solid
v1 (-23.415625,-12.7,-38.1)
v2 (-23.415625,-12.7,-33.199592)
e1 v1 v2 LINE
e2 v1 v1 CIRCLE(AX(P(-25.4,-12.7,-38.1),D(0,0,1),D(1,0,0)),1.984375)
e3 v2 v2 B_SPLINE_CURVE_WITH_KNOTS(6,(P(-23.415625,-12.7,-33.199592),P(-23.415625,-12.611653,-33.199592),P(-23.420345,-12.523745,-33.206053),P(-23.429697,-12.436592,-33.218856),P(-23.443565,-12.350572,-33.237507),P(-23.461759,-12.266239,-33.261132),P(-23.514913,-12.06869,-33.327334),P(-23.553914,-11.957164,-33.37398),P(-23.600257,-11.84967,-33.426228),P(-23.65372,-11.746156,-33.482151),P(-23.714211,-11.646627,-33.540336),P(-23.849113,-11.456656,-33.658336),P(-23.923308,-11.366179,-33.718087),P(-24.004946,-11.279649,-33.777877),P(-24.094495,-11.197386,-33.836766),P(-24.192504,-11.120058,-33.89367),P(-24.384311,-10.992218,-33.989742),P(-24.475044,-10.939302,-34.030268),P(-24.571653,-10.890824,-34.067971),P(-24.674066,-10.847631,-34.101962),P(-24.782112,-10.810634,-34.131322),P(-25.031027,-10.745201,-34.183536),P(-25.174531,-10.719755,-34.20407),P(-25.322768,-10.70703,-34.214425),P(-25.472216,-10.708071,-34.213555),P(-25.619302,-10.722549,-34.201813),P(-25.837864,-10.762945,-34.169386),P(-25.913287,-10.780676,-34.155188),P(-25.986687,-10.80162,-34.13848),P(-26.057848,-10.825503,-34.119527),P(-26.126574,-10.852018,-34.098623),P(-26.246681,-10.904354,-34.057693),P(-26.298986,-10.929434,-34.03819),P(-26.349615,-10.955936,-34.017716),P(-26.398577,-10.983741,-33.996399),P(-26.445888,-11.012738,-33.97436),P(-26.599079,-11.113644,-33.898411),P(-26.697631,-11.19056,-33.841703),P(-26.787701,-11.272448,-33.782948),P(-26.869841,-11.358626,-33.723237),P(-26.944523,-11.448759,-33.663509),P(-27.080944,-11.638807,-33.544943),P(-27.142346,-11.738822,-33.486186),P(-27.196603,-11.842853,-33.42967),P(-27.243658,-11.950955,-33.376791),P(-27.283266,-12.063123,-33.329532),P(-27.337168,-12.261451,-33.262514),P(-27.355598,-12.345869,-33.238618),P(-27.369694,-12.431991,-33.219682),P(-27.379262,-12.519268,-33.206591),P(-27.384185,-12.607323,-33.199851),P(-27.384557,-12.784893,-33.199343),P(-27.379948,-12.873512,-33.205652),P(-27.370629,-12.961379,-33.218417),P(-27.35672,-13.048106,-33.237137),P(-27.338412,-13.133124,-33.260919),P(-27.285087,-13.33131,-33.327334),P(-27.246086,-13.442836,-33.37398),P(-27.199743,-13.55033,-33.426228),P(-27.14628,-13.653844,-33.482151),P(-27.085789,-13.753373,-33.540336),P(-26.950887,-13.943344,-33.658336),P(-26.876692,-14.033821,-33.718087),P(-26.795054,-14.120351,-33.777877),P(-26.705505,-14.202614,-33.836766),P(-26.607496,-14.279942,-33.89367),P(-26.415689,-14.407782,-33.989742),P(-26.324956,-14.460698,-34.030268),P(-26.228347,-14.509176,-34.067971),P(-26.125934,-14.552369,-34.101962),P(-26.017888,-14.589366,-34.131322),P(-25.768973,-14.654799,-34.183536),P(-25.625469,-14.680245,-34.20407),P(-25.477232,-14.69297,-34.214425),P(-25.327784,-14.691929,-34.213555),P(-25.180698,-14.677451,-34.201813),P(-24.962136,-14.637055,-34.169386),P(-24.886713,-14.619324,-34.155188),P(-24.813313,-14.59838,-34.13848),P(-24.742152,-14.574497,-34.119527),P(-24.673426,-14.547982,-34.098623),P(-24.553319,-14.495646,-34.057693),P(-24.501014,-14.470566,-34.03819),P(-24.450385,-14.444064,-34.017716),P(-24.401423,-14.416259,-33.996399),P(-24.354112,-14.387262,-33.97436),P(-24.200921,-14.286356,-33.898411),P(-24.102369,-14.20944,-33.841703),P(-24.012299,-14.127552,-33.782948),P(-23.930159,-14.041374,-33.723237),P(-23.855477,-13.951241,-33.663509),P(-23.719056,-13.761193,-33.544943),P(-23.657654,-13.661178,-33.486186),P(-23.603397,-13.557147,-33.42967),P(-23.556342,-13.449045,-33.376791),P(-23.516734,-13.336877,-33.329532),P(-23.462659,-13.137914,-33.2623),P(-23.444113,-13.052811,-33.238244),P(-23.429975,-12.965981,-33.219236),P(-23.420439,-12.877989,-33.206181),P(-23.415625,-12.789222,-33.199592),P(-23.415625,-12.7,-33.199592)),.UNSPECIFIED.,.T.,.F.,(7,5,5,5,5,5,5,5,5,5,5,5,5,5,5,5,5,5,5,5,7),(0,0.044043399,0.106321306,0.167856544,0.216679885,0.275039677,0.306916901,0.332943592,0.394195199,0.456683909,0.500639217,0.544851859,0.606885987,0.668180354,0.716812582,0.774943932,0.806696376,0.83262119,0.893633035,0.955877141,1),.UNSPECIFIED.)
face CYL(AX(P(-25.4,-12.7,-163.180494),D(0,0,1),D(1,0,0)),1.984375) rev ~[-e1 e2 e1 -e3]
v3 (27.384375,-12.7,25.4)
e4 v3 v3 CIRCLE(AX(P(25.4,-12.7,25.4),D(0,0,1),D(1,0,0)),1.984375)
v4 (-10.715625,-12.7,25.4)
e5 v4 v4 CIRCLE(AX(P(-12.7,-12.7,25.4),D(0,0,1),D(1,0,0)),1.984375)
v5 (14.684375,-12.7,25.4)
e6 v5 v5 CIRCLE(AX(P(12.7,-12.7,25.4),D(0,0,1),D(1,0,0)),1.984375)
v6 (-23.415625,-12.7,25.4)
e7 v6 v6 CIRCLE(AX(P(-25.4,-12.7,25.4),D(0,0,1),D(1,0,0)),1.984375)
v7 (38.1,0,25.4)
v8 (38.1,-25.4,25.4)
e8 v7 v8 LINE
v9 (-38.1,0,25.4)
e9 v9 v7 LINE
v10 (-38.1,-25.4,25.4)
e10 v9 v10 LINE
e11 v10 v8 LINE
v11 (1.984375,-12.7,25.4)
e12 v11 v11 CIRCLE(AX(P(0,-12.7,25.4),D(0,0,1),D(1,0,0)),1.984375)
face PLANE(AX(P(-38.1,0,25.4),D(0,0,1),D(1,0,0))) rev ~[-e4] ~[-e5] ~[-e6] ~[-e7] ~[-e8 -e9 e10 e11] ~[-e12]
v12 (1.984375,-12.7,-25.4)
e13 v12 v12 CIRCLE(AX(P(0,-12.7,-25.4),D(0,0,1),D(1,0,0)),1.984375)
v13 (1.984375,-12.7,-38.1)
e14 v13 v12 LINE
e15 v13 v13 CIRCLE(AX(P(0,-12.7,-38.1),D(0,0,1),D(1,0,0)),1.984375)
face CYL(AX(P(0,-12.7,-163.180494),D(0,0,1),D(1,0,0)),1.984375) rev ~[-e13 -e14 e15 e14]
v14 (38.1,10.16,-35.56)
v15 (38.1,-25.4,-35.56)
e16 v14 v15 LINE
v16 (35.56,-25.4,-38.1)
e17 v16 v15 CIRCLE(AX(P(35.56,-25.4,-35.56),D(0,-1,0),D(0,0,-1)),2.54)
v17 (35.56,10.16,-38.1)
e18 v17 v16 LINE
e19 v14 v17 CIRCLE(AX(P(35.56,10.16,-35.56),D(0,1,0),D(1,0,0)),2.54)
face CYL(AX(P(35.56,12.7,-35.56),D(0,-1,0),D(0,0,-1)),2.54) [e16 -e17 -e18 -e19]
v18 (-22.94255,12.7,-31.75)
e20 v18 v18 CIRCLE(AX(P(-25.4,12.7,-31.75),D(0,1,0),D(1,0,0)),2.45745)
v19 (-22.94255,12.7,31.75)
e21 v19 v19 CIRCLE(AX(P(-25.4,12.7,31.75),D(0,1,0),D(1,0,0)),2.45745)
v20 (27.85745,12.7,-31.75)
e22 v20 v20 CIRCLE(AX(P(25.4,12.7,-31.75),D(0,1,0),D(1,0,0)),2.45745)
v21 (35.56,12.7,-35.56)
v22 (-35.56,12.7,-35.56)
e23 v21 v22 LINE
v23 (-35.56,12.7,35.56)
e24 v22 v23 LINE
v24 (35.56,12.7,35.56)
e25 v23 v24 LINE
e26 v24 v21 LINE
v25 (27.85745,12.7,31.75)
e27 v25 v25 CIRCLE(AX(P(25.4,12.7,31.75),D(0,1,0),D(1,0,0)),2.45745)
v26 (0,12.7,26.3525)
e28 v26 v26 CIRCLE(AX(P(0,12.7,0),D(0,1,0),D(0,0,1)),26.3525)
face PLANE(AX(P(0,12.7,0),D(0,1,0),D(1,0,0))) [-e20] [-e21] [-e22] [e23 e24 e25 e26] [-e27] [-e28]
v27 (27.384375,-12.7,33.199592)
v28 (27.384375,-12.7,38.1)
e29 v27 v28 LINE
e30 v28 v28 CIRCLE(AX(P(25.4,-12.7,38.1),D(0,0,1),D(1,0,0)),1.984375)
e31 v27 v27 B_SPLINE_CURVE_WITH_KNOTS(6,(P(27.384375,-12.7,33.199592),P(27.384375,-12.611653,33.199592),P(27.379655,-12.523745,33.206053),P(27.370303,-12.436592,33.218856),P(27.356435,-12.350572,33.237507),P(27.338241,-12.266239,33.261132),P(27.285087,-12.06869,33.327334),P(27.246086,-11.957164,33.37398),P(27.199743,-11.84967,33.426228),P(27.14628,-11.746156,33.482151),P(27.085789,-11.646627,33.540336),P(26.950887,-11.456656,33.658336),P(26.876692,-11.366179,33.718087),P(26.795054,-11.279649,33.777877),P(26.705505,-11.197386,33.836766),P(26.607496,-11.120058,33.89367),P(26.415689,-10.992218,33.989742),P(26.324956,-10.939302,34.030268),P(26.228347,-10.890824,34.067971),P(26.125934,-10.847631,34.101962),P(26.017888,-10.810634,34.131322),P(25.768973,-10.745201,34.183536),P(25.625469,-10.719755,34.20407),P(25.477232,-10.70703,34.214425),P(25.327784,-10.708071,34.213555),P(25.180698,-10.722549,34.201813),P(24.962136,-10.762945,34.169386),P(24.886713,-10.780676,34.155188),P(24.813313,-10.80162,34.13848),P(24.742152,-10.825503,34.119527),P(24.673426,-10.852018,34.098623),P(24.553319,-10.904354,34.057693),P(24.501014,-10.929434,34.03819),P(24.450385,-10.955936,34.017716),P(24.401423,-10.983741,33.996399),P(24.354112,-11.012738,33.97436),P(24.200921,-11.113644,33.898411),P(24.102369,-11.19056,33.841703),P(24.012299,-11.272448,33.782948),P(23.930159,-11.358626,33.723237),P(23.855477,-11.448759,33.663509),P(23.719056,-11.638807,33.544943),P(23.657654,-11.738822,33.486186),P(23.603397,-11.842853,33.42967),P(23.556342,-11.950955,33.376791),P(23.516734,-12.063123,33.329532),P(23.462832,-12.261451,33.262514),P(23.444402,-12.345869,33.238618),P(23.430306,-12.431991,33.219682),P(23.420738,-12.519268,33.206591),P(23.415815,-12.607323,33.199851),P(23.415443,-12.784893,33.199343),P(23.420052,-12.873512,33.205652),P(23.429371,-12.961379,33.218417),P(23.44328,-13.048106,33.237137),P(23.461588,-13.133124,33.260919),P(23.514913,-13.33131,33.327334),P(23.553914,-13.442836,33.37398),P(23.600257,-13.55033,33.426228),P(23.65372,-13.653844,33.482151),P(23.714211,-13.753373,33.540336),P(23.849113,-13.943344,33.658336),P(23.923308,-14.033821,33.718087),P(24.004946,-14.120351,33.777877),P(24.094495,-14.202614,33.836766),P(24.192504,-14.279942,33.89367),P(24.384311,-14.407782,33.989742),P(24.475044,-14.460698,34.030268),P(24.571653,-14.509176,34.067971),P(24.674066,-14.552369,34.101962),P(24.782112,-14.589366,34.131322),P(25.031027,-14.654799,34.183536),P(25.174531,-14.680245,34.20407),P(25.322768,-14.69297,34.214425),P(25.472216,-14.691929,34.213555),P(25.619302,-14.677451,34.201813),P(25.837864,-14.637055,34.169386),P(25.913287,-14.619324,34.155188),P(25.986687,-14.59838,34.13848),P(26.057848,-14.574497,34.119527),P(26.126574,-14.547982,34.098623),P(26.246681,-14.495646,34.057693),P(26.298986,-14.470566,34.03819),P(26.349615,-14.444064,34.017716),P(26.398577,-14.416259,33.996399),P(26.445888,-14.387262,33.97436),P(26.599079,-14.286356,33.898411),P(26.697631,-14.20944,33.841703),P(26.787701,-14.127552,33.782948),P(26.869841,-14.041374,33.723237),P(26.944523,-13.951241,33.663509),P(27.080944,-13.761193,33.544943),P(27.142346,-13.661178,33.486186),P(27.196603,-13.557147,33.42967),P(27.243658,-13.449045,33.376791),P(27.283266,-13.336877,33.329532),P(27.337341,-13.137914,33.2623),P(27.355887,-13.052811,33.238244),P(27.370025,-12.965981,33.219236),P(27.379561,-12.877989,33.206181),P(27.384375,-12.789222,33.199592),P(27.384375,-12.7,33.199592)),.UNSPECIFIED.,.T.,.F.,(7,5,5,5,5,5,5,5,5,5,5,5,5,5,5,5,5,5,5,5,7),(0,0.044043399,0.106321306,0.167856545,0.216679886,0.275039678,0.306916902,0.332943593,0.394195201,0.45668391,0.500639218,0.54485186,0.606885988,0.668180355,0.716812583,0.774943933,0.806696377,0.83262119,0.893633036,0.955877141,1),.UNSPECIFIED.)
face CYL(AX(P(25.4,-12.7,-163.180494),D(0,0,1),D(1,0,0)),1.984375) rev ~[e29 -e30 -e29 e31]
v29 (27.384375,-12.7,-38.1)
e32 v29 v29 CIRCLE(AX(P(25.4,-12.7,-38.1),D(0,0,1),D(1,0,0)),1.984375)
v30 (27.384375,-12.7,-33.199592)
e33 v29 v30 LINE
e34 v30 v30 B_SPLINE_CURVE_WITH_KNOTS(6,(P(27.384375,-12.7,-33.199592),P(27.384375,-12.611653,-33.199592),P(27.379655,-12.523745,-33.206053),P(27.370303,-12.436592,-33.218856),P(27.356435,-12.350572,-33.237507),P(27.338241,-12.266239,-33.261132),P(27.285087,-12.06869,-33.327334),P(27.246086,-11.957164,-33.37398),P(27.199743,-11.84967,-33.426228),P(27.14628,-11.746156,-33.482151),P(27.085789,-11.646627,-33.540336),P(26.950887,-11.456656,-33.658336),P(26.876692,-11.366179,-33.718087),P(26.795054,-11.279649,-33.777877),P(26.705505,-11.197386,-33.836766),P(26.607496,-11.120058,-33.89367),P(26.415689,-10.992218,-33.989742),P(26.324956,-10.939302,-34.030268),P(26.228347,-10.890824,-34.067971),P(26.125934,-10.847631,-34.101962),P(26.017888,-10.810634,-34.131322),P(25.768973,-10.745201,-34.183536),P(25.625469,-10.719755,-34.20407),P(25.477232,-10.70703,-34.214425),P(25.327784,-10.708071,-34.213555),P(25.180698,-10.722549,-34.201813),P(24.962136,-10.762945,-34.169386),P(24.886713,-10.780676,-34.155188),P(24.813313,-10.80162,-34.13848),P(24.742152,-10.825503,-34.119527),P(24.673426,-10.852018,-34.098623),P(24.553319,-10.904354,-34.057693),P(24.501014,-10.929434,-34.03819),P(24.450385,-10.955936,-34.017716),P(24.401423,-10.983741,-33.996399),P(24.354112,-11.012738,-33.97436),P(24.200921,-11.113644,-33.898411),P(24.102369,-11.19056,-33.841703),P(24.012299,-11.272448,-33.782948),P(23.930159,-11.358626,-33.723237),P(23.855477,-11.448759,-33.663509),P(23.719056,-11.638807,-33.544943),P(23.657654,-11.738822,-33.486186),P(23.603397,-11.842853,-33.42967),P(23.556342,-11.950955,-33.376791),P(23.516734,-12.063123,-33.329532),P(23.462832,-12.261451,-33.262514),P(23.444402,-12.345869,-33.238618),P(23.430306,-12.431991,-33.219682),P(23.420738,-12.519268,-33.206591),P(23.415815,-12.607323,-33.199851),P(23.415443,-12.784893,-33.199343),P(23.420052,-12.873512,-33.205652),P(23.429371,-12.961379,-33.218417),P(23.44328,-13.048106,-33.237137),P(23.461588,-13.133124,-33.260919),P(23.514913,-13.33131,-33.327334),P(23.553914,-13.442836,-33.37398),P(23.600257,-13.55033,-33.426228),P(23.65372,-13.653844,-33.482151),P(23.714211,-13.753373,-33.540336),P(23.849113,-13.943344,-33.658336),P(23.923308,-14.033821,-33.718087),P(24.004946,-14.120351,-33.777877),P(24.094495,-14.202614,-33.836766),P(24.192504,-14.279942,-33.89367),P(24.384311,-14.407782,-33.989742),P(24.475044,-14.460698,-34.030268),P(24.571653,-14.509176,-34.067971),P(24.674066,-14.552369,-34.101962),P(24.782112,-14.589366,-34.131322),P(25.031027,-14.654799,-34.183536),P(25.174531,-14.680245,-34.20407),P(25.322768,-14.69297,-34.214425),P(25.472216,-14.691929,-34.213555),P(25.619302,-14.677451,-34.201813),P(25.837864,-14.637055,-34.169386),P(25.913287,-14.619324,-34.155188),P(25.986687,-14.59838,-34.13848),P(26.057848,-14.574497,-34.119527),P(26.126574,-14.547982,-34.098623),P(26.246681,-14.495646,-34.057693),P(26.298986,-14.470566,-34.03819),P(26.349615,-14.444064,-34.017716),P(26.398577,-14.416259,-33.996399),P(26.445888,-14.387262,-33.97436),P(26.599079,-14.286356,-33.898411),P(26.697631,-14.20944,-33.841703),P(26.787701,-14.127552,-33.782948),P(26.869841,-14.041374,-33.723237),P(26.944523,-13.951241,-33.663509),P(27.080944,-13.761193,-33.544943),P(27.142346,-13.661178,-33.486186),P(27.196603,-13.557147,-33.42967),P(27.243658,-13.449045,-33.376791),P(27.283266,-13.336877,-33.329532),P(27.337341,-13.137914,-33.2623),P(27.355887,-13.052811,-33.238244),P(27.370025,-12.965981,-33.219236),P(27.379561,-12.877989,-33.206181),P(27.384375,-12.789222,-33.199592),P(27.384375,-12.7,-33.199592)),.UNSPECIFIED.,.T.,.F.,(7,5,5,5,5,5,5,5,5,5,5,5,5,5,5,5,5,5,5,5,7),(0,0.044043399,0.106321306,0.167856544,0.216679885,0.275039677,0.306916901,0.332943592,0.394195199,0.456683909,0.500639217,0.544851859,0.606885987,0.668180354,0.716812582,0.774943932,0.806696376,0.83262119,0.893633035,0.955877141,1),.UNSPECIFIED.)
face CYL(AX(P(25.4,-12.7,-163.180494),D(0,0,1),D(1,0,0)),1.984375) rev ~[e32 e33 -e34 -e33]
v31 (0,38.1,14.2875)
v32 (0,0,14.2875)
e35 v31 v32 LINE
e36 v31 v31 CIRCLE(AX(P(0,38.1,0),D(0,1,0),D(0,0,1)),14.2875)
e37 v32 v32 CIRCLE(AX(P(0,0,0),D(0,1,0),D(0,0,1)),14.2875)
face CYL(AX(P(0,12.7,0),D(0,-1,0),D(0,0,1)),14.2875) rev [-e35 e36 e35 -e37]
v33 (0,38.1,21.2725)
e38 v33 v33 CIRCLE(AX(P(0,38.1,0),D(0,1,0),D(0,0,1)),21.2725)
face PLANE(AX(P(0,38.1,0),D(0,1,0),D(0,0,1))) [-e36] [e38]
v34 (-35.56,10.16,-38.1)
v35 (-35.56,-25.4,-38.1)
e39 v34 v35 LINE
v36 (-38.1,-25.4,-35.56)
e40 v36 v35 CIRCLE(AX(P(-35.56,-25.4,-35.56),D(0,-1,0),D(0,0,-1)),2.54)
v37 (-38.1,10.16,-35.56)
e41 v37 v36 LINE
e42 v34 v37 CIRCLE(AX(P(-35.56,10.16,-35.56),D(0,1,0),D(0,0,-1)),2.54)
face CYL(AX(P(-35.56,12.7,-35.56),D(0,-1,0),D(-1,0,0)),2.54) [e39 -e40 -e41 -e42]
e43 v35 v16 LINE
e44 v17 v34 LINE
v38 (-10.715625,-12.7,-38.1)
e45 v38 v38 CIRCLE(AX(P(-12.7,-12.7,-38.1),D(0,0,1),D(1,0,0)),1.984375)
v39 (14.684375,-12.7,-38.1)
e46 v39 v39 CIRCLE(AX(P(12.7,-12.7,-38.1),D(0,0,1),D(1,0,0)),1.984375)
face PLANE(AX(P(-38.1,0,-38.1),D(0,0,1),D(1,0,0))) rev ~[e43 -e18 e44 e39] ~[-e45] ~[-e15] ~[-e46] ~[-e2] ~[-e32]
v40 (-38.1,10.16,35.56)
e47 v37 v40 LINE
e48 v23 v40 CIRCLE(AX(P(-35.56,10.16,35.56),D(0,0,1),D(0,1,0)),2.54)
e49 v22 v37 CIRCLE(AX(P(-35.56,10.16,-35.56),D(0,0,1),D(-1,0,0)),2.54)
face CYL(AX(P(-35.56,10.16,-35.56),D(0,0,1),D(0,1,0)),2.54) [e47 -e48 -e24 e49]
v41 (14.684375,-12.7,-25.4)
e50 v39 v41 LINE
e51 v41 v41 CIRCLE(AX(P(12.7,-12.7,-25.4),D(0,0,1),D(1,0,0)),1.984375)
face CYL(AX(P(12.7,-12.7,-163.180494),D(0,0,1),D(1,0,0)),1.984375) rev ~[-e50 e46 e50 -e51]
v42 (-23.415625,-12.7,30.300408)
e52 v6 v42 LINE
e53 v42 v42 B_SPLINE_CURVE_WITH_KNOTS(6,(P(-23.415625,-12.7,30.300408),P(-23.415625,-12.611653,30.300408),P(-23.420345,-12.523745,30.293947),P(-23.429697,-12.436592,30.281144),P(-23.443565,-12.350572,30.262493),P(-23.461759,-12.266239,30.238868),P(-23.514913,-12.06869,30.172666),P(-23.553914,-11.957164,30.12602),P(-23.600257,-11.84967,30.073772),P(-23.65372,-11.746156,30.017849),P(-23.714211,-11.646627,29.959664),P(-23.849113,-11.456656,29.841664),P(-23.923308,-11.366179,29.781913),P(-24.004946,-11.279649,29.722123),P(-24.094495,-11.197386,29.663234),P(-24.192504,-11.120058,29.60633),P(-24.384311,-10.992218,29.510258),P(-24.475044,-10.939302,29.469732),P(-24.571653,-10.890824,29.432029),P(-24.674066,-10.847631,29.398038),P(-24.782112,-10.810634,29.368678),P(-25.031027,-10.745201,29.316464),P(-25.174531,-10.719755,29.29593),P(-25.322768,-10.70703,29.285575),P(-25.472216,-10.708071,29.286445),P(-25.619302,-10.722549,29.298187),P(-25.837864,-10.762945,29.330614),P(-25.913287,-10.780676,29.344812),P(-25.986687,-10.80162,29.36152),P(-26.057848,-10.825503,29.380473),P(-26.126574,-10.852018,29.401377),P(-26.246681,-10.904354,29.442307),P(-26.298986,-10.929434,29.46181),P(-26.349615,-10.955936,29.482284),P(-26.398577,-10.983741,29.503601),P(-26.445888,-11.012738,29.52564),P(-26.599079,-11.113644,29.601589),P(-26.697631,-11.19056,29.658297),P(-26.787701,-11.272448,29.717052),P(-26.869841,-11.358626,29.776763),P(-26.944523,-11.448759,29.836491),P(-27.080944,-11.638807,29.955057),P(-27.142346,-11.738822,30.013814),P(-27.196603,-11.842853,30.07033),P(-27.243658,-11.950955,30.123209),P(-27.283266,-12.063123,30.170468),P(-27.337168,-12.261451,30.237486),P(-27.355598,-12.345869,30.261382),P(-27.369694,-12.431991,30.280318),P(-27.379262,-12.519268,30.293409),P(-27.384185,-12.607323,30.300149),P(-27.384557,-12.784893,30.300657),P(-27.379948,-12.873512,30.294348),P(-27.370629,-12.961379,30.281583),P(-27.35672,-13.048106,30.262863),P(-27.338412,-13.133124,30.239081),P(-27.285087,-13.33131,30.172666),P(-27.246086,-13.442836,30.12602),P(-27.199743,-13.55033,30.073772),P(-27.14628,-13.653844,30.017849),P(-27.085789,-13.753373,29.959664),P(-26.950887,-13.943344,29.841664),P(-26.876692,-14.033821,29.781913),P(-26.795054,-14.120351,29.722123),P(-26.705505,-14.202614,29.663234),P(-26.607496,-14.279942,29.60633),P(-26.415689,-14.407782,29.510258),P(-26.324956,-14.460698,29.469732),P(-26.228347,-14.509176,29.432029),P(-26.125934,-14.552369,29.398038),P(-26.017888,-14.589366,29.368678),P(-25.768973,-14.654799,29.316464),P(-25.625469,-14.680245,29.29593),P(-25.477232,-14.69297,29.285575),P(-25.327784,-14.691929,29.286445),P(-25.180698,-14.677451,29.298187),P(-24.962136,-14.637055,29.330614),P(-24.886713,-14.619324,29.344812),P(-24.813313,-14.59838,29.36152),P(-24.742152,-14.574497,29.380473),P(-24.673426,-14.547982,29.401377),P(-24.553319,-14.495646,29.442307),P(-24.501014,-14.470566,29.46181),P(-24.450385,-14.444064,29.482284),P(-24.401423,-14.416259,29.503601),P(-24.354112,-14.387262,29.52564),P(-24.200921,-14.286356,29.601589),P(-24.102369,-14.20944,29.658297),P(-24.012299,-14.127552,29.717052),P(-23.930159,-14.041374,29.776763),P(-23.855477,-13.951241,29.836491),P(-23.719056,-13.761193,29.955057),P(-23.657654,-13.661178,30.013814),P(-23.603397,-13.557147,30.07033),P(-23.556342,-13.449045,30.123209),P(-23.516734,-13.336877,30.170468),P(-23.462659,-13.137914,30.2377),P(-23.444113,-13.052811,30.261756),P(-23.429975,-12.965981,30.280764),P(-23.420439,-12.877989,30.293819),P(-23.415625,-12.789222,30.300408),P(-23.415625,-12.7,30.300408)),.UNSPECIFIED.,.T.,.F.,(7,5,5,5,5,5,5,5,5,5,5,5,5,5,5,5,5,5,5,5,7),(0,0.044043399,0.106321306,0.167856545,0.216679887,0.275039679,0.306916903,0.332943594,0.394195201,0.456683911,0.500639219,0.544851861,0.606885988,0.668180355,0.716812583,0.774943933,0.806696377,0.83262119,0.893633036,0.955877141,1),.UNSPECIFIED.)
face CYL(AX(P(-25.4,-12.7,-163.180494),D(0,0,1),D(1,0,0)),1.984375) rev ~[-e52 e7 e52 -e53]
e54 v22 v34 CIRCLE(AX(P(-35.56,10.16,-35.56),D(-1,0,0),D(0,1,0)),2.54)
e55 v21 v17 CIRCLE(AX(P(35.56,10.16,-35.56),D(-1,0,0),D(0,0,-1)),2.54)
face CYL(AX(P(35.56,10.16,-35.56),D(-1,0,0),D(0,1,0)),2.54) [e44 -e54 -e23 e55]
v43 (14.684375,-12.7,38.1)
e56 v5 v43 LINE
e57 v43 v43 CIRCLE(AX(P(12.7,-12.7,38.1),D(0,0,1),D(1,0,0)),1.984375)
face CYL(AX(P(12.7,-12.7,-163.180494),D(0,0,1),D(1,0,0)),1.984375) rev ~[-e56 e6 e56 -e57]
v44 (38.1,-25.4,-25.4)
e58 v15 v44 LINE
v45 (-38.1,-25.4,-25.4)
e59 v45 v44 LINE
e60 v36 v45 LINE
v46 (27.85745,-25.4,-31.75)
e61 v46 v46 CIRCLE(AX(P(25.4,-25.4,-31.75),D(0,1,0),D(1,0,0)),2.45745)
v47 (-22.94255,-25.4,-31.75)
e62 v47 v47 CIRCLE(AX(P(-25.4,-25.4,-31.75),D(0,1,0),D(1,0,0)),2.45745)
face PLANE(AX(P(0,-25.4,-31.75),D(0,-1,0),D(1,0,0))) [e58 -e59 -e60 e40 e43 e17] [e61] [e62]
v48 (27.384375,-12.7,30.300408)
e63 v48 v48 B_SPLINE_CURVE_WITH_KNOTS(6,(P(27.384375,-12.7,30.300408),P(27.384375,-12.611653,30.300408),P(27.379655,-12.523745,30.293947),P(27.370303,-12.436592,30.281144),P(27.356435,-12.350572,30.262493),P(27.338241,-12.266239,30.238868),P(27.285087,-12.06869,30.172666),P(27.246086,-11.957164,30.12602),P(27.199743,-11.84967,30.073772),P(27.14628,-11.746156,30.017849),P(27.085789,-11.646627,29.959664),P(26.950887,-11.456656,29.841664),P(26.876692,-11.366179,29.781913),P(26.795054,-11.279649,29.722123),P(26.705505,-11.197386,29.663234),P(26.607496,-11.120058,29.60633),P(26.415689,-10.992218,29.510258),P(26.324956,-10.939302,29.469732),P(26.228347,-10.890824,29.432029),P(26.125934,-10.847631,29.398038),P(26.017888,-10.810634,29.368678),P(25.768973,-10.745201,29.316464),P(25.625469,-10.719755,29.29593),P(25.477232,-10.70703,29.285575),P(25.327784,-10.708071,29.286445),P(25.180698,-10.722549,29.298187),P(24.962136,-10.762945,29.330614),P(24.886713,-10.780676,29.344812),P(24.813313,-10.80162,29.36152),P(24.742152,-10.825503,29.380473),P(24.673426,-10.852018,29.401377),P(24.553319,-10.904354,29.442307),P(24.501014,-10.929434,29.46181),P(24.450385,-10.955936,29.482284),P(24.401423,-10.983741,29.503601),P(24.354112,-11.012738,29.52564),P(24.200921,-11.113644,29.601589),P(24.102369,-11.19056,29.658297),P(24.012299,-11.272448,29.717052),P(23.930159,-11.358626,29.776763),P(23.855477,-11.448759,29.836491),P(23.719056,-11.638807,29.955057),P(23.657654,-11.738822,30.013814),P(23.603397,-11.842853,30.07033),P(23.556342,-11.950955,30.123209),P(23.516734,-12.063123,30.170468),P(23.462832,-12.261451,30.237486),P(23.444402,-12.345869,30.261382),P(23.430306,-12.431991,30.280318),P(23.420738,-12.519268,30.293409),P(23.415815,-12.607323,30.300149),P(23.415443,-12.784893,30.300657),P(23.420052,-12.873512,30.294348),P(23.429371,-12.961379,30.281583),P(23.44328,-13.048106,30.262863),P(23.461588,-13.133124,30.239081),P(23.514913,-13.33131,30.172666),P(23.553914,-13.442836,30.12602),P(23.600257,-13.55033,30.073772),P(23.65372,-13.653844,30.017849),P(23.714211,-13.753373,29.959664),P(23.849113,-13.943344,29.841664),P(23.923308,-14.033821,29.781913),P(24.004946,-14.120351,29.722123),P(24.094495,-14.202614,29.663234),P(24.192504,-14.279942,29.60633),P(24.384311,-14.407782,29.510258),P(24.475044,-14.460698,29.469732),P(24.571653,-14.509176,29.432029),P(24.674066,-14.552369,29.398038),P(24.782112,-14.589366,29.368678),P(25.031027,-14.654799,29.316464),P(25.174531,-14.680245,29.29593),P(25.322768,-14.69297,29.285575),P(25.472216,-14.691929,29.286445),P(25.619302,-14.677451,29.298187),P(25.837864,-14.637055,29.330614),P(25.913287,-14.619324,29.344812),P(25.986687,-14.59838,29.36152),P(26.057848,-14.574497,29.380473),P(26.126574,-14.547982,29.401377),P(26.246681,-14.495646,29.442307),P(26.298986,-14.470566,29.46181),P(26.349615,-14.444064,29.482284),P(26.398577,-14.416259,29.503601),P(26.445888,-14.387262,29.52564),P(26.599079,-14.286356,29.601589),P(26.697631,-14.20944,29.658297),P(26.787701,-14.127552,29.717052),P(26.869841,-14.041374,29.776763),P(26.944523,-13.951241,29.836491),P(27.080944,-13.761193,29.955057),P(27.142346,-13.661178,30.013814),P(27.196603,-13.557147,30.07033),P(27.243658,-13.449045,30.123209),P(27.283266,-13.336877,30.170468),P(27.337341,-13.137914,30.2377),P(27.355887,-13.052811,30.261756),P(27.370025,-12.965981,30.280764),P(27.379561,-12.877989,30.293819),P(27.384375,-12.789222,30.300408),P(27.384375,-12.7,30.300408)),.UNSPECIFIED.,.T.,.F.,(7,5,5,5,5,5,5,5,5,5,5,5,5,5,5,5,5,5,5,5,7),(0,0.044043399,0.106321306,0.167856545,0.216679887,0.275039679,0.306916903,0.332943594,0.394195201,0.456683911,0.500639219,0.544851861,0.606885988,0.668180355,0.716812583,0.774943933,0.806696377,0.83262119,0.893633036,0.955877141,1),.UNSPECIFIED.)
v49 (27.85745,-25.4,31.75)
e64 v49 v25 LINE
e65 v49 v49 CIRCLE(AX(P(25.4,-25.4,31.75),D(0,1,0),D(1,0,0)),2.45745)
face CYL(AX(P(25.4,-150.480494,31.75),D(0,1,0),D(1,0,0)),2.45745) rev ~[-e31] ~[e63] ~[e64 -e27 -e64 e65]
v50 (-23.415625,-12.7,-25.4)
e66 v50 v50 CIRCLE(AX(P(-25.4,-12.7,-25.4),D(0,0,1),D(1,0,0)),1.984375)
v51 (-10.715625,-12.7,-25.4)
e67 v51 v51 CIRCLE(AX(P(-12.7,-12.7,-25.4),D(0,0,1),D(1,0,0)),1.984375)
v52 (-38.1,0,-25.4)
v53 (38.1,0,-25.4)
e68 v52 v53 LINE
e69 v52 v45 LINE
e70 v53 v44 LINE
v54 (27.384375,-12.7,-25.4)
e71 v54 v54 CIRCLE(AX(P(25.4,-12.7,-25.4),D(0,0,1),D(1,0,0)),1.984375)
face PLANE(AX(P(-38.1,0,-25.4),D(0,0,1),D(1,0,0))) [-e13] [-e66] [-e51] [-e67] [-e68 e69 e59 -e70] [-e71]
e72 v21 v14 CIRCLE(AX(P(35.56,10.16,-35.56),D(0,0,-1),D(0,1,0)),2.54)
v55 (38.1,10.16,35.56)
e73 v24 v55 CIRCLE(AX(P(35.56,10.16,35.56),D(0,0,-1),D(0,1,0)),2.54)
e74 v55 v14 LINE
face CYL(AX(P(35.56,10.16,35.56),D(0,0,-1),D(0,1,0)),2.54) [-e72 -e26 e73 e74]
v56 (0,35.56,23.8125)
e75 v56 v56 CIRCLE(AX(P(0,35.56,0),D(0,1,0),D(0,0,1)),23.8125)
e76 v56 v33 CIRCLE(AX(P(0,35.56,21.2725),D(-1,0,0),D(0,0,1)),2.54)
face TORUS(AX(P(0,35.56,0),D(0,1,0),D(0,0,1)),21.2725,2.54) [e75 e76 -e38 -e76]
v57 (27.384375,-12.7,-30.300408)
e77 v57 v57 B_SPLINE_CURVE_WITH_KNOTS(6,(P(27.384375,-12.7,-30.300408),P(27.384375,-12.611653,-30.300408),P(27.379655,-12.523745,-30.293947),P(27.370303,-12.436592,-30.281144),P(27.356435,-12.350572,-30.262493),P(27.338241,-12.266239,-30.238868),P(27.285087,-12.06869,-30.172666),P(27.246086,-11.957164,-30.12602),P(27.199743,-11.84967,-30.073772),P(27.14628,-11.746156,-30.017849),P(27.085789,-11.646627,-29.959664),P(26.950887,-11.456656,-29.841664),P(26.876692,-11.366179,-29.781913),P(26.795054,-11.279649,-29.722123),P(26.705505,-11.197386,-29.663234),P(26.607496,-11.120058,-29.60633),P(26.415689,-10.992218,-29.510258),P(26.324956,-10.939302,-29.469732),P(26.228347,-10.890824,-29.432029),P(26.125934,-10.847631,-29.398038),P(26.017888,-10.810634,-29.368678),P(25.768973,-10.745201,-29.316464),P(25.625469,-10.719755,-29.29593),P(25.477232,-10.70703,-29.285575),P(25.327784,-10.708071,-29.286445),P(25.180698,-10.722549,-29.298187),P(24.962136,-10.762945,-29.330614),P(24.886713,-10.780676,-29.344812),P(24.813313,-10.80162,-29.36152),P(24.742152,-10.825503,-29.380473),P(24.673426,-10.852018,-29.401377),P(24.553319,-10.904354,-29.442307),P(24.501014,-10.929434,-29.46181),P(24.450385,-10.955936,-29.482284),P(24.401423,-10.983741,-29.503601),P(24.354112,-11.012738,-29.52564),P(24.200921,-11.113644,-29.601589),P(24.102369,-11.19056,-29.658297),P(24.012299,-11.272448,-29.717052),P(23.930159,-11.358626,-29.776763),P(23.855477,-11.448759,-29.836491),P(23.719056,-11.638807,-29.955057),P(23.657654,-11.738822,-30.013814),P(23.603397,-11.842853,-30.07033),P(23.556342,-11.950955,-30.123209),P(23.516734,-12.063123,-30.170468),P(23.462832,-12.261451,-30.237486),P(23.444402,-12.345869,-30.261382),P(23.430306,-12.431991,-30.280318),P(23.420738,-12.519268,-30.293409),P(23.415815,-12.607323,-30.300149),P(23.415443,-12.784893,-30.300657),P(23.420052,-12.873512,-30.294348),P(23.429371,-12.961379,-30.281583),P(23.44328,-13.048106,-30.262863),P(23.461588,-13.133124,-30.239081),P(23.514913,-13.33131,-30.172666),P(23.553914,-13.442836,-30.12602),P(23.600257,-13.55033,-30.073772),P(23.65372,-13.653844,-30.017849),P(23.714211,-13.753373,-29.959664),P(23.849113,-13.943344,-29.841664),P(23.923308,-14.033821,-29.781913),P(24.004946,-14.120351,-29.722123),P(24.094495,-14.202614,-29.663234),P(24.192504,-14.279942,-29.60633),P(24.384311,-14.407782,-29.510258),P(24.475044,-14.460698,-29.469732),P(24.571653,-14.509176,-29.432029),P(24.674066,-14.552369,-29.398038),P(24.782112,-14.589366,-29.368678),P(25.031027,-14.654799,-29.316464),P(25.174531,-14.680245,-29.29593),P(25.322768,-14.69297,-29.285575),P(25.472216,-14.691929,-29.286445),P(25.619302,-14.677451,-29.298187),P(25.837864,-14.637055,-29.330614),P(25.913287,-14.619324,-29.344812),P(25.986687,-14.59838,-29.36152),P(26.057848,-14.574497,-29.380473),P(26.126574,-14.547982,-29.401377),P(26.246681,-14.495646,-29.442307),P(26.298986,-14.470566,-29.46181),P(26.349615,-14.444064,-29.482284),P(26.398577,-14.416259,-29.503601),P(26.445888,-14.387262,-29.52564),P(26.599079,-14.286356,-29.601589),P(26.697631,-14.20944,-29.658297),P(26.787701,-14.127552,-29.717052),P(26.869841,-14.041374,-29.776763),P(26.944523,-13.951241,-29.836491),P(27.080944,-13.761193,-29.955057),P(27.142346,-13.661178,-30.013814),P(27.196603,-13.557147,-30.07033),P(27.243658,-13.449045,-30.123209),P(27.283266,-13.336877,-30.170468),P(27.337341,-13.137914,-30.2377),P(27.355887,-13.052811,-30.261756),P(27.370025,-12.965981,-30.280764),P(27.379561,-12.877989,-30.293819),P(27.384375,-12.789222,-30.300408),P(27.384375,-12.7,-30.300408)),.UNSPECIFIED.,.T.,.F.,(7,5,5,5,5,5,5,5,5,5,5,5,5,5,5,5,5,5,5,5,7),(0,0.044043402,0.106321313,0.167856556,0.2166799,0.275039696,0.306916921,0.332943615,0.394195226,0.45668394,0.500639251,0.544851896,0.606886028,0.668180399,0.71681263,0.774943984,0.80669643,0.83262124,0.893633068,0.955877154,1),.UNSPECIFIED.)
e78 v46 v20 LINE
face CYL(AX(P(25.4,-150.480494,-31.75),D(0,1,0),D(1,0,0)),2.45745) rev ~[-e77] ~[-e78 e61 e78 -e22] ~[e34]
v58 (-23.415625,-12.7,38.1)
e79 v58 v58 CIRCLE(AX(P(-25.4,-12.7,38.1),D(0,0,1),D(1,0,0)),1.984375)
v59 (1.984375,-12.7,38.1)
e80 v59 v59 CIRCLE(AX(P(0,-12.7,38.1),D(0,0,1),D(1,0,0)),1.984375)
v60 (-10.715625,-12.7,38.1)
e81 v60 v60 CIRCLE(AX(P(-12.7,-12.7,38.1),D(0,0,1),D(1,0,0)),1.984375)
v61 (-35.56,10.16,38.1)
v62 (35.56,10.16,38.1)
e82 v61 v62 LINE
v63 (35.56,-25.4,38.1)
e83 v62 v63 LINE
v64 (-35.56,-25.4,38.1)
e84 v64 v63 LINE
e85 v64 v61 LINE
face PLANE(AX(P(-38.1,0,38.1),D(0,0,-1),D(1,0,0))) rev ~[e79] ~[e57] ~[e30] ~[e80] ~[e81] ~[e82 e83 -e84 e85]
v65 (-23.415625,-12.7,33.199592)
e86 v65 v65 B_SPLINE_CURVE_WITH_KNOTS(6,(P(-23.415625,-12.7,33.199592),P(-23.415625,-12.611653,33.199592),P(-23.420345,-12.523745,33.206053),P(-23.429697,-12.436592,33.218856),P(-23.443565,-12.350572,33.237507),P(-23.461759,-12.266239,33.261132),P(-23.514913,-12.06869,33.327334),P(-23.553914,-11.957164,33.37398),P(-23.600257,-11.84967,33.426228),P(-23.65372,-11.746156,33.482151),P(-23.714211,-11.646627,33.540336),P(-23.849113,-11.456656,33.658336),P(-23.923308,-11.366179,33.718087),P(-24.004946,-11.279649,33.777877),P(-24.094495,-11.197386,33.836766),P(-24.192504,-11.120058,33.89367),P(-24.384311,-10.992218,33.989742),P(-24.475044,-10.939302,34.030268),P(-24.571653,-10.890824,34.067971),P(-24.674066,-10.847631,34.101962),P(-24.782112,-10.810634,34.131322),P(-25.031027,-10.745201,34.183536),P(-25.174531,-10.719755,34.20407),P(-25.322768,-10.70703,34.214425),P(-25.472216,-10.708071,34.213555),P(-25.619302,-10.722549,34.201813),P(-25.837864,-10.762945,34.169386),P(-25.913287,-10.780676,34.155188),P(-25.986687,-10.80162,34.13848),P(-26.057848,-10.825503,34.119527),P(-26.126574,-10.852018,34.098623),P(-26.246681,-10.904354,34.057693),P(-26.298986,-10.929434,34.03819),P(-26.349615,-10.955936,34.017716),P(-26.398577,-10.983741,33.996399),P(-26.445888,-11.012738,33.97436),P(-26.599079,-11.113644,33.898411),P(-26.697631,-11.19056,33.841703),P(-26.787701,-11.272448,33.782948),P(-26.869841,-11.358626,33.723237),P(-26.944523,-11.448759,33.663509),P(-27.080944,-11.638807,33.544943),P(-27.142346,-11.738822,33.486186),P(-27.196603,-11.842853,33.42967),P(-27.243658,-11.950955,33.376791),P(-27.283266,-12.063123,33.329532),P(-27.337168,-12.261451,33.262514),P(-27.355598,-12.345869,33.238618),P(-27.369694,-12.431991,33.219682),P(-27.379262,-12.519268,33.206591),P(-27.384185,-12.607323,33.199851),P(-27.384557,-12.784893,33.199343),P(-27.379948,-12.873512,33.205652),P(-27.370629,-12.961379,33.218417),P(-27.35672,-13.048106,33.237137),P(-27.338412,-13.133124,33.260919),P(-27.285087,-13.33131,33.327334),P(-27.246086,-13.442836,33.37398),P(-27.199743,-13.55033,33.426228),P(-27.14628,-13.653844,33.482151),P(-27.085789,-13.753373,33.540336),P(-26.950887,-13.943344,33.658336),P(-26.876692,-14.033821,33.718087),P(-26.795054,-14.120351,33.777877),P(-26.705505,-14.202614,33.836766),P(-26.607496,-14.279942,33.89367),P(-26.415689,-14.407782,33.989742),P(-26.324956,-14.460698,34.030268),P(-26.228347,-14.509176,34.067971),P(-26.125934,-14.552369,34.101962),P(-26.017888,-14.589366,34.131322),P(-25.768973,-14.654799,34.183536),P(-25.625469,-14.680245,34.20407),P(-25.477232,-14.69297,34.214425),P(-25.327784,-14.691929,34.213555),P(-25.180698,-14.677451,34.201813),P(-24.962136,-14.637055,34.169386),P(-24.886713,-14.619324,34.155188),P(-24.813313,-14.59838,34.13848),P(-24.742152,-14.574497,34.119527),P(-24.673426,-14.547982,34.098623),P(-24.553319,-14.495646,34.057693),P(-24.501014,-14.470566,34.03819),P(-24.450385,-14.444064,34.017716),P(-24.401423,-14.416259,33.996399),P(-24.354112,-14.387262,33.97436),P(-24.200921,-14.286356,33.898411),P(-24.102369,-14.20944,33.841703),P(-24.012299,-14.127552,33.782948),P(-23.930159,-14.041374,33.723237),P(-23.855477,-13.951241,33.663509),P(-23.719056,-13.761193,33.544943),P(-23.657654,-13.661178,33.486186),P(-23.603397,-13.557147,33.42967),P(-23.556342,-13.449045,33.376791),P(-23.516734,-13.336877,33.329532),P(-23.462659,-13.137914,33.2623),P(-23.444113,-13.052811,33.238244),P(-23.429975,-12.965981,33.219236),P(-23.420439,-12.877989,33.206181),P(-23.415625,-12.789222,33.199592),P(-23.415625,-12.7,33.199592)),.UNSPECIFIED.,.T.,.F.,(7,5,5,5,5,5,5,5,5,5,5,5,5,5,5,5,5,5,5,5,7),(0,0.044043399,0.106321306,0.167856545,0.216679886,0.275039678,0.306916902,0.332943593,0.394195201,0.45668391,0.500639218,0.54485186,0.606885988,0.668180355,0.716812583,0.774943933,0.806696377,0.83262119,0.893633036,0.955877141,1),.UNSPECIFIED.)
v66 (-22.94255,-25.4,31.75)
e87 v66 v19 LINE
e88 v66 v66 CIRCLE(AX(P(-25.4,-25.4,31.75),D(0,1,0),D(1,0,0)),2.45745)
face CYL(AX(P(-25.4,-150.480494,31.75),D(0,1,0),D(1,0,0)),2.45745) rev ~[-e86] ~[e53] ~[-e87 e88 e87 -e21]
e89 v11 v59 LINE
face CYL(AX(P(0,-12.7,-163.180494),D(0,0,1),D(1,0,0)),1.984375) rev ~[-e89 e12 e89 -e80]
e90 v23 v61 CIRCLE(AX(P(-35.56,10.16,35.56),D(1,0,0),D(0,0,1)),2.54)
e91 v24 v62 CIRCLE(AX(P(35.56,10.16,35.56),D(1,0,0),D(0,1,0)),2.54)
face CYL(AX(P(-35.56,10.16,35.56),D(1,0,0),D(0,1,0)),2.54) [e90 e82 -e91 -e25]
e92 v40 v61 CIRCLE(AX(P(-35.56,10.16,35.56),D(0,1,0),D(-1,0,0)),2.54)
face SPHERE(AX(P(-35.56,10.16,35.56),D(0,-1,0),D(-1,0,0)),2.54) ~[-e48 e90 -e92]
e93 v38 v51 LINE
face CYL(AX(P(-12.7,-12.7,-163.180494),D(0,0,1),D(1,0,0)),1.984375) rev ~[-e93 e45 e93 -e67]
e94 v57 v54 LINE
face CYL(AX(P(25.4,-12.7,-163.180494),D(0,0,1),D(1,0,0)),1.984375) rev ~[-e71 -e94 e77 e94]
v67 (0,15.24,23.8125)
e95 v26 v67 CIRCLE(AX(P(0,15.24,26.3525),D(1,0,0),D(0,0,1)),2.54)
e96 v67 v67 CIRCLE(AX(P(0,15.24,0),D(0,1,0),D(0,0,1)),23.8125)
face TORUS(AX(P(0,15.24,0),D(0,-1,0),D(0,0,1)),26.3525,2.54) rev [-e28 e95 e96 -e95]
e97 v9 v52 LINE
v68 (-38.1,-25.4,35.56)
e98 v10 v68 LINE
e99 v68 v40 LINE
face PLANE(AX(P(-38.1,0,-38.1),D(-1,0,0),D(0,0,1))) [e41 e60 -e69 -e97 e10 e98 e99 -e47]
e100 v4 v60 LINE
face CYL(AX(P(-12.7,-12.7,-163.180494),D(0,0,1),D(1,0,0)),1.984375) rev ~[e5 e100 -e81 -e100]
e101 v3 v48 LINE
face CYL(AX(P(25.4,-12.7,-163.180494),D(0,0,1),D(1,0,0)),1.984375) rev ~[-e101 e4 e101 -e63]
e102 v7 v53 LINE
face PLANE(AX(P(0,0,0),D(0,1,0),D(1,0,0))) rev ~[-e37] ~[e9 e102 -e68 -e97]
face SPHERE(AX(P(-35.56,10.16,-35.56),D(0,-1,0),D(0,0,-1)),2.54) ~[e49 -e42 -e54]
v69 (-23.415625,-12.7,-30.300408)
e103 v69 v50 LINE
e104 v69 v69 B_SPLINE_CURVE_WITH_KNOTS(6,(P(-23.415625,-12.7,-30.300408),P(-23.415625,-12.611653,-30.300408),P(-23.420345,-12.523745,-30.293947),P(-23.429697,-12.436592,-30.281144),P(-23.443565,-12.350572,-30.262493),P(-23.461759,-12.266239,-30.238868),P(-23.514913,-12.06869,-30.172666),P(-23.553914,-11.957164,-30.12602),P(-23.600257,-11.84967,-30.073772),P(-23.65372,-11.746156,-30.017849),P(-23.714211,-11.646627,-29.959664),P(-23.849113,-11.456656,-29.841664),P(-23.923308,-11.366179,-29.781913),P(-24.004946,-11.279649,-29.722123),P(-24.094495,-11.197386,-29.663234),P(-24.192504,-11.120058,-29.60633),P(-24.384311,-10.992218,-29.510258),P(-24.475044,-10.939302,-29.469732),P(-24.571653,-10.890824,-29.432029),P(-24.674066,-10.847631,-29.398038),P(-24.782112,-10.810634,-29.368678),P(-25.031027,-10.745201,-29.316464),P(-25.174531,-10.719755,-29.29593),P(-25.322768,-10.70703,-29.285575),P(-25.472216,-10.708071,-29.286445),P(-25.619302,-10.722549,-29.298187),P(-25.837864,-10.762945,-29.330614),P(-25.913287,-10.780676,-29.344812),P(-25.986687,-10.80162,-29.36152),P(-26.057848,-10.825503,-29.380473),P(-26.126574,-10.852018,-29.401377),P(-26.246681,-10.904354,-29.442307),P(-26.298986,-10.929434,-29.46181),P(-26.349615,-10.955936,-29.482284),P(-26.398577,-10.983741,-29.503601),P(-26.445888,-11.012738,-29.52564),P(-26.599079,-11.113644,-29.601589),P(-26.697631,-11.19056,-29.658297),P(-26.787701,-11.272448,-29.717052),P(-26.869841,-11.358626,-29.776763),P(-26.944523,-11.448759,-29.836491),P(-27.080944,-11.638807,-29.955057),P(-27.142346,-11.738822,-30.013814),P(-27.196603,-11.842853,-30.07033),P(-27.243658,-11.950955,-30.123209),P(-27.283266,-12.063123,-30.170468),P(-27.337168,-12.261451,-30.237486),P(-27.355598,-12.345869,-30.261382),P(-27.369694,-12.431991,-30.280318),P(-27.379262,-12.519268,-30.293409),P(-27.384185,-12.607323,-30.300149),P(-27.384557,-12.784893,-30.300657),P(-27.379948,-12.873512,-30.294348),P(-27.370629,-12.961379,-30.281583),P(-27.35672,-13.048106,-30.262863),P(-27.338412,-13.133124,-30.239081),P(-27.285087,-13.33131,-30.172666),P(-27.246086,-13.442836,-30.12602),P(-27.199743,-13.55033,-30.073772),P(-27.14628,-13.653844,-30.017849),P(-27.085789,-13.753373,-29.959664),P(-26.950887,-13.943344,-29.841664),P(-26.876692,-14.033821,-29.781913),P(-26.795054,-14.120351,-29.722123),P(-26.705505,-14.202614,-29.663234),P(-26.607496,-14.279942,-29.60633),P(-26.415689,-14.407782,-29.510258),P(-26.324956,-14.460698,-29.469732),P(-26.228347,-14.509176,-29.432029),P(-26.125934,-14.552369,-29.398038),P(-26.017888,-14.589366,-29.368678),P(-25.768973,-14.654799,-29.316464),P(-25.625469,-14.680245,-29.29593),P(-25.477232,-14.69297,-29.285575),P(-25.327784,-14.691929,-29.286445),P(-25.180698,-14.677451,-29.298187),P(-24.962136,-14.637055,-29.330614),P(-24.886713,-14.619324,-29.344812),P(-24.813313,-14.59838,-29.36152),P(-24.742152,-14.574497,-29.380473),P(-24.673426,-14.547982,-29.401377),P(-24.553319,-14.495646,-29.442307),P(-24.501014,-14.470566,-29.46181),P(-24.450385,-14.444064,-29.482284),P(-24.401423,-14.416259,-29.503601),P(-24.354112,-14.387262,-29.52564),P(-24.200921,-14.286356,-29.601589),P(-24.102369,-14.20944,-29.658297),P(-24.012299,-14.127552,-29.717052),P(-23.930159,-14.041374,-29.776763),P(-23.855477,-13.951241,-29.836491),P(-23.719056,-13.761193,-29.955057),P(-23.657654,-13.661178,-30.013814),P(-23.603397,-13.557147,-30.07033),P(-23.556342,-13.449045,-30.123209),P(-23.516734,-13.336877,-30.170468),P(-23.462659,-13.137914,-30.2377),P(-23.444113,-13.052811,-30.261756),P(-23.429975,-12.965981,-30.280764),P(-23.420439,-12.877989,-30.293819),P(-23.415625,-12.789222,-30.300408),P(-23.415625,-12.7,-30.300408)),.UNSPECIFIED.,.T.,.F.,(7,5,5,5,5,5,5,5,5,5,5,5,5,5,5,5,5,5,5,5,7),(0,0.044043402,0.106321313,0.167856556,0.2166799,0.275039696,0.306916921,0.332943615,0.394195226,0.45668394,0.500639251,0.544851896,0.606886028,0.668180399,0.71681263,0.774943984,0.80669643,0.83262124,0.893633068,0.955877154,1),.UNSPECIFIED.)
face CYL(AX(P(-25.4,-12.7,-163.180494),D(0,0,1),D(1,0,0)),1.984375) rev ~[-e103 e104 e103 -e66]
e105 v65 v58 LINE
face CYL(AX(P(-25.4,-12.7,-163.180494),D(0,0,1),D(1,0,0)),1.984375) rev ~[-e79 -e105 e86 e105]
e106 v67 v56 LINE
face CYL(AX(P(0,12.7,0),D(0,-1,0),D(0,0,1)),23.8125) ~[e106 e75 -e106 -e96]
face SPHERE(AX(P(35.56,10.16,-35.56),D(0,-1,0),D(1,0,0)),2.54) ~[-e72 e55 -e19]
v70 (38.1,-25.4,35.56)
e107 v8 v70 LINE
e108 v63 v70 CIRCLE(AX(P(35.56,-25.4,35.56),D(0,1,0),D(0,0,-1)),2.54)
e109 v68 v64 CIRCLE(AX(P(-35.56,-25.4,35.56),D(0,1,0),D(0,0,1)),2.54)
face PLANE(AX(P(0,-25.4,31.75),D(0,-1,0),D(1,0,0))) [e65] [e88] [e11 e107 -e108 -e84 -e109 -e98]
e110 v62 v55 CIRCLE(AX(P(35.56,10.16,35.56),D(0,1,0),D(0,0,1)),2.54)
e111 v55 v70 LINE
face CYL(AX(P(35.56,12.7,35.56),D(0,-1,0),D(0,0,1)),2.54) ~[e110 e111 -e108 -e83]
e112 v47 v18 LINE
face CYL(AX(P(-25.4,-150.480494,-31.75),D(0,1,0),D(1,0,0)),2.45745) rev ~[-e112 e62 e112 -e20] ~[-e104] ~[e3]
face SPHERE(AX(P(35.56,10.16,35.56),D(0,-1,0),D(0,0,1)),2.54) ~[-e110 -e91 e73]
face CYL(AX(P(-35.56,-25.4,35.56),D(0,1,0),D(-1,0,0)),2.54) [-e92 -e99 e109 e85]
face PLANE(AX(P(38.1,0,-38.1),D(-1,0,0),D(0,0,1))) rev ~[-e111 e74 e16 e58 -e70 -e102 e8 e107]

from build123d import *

# Parameters (mm, degrees)
SKETCH2_W                       = 76.2
SKETCH2_H                       = 76.2
SKETCH2_R                       = 14.2875
BOSS_EXTRUDE1_DEPTH             = 12.7
SKETCH3_R                       = 23.8125
SKETCH3_R_2                     = 14.2875
BOSS_EXTRUDE2_DEPTH             = 25.4
SKETCH4_W                       = 76.2
SKETCH4_H                       = 12.7
BOSS_EXTRUDE3_DEPTH             = 25.4
F_10_0_1935_DIAMETER_HOLE1_D    = 4.9149
FILLET1_R                       = 2.54
FILLET2_R                       = 2.54
F_5_32_0_15625_DIAMETER_HOLE1_D = 3.96875


with BuildPart() as part:
    # Sketch2 → Boss-Extrude1 (new body)
    with BuildSketch(Plane(origin=(0, 0, 0), x_dir=(1, 0, 0), z_dir=(0, 1, 0))):
        Rectangle(SKETCH2_W, SKETCH2_H)
        with Locations(Location((0, 0, 0), (0, 0, 270))):
            Circle(SKETCH2_R, mode=Mode.SUBTRACT)
    extrude(amount=BOSS_EXTRUDE1_DEPTH)

    # Sketch3 → Boss-Extrude2 (add)
    with BuildSketch(Plane(origin=(0, 12.7, 0), x_dir=(1, 0, 0), z_dir=(0, 1, 0))):
        with Locations(Location((0, 0, 0), (0, 0, 270))):
            Circle(SKETCH3_R)
        with Locations(Location((0, 0, 0), (0, 0, 270))):
            Circle(SKETCH3_R_2, mode=Mode.SUBTRACT)
    extrude(amount=BOSS_EXTRUDE2_DEPTH)

    # Sketch4 → Boss-Extrude3 (add)
    with BuildSketch(Plane.XZ):
        with Locations((0, -31.75)):
            Rectangle(SKETCH4_W, SKETCH4_H)
        with Locations((0, 31.75)):
            Rectangle(SKETCH4_W, SKETCH4_H)
    extrude(amount=BOSS_EXTRUDE3_DEPTH)

    # #10 (0.1935) Diameter Hole1 (through all)
    with Locations(Plane(origin=(0, -25.4, 0), x_dir=(-1, 0, 0), z_dir=(0, -1, 0))):
        with Locations((-25.4, 31.75), (25.4, 31.75), (25.4, -31.75), (-25.4, -31.75)):
            Hole(F_10_0_1935_DIAMETER_HOLE1_D / 2)

    # Fillet1
    fillet1_edges = [part.edges().sort_by_distance(p)[0] for p in [
        (0, 12.7, -23.8125),
        (0, 38.1, -23.8125),
        (38.1, -6.35, 38.1),
        (-38.1, -6.35, 38.1),
        (-38.1, -6.35, -38.1),
        (38.1, -6.35, -38.1),
    ]]
    fillet(fillet1_edges, radius=FILLET1_R)

    # Fillet2
    fillet2_edges = [part.edges().sort_by_distance(p)[0] for p in [
        (38.1, 12.7, 0),
        (0, 12.7, 38.1),
        (0, 12.7, -38.1),
        (-38.1, 12.7, 0),
        (37.356051224, 12.7, -37.356051224),
        (-37.356051224, 12.7, -37.356051224),
        (-37.356051224, 12.7, 37.356051224),
        (37.356051224, 12.7, 37.356051224),
    ]]
    fillet(fillet2_edges, radius=FILLET2_R)

    # 5/32 (0.15625) Diameter Hole1 (through all)
    with Locations(Plane(origin=(0, 0, -38.1), x_dir=(-1, 0, 0), z_dir=(0, 0, -1))):
        with Locations((0, -12.7), (12.7, -12.7), (25.4, -12.7), (-12.7, -12.7), (-25.4, -12.7)):
            Hole(F_5_32_0_15625_DIAMETER_HOLE1_D / 2)


solid = part.part
